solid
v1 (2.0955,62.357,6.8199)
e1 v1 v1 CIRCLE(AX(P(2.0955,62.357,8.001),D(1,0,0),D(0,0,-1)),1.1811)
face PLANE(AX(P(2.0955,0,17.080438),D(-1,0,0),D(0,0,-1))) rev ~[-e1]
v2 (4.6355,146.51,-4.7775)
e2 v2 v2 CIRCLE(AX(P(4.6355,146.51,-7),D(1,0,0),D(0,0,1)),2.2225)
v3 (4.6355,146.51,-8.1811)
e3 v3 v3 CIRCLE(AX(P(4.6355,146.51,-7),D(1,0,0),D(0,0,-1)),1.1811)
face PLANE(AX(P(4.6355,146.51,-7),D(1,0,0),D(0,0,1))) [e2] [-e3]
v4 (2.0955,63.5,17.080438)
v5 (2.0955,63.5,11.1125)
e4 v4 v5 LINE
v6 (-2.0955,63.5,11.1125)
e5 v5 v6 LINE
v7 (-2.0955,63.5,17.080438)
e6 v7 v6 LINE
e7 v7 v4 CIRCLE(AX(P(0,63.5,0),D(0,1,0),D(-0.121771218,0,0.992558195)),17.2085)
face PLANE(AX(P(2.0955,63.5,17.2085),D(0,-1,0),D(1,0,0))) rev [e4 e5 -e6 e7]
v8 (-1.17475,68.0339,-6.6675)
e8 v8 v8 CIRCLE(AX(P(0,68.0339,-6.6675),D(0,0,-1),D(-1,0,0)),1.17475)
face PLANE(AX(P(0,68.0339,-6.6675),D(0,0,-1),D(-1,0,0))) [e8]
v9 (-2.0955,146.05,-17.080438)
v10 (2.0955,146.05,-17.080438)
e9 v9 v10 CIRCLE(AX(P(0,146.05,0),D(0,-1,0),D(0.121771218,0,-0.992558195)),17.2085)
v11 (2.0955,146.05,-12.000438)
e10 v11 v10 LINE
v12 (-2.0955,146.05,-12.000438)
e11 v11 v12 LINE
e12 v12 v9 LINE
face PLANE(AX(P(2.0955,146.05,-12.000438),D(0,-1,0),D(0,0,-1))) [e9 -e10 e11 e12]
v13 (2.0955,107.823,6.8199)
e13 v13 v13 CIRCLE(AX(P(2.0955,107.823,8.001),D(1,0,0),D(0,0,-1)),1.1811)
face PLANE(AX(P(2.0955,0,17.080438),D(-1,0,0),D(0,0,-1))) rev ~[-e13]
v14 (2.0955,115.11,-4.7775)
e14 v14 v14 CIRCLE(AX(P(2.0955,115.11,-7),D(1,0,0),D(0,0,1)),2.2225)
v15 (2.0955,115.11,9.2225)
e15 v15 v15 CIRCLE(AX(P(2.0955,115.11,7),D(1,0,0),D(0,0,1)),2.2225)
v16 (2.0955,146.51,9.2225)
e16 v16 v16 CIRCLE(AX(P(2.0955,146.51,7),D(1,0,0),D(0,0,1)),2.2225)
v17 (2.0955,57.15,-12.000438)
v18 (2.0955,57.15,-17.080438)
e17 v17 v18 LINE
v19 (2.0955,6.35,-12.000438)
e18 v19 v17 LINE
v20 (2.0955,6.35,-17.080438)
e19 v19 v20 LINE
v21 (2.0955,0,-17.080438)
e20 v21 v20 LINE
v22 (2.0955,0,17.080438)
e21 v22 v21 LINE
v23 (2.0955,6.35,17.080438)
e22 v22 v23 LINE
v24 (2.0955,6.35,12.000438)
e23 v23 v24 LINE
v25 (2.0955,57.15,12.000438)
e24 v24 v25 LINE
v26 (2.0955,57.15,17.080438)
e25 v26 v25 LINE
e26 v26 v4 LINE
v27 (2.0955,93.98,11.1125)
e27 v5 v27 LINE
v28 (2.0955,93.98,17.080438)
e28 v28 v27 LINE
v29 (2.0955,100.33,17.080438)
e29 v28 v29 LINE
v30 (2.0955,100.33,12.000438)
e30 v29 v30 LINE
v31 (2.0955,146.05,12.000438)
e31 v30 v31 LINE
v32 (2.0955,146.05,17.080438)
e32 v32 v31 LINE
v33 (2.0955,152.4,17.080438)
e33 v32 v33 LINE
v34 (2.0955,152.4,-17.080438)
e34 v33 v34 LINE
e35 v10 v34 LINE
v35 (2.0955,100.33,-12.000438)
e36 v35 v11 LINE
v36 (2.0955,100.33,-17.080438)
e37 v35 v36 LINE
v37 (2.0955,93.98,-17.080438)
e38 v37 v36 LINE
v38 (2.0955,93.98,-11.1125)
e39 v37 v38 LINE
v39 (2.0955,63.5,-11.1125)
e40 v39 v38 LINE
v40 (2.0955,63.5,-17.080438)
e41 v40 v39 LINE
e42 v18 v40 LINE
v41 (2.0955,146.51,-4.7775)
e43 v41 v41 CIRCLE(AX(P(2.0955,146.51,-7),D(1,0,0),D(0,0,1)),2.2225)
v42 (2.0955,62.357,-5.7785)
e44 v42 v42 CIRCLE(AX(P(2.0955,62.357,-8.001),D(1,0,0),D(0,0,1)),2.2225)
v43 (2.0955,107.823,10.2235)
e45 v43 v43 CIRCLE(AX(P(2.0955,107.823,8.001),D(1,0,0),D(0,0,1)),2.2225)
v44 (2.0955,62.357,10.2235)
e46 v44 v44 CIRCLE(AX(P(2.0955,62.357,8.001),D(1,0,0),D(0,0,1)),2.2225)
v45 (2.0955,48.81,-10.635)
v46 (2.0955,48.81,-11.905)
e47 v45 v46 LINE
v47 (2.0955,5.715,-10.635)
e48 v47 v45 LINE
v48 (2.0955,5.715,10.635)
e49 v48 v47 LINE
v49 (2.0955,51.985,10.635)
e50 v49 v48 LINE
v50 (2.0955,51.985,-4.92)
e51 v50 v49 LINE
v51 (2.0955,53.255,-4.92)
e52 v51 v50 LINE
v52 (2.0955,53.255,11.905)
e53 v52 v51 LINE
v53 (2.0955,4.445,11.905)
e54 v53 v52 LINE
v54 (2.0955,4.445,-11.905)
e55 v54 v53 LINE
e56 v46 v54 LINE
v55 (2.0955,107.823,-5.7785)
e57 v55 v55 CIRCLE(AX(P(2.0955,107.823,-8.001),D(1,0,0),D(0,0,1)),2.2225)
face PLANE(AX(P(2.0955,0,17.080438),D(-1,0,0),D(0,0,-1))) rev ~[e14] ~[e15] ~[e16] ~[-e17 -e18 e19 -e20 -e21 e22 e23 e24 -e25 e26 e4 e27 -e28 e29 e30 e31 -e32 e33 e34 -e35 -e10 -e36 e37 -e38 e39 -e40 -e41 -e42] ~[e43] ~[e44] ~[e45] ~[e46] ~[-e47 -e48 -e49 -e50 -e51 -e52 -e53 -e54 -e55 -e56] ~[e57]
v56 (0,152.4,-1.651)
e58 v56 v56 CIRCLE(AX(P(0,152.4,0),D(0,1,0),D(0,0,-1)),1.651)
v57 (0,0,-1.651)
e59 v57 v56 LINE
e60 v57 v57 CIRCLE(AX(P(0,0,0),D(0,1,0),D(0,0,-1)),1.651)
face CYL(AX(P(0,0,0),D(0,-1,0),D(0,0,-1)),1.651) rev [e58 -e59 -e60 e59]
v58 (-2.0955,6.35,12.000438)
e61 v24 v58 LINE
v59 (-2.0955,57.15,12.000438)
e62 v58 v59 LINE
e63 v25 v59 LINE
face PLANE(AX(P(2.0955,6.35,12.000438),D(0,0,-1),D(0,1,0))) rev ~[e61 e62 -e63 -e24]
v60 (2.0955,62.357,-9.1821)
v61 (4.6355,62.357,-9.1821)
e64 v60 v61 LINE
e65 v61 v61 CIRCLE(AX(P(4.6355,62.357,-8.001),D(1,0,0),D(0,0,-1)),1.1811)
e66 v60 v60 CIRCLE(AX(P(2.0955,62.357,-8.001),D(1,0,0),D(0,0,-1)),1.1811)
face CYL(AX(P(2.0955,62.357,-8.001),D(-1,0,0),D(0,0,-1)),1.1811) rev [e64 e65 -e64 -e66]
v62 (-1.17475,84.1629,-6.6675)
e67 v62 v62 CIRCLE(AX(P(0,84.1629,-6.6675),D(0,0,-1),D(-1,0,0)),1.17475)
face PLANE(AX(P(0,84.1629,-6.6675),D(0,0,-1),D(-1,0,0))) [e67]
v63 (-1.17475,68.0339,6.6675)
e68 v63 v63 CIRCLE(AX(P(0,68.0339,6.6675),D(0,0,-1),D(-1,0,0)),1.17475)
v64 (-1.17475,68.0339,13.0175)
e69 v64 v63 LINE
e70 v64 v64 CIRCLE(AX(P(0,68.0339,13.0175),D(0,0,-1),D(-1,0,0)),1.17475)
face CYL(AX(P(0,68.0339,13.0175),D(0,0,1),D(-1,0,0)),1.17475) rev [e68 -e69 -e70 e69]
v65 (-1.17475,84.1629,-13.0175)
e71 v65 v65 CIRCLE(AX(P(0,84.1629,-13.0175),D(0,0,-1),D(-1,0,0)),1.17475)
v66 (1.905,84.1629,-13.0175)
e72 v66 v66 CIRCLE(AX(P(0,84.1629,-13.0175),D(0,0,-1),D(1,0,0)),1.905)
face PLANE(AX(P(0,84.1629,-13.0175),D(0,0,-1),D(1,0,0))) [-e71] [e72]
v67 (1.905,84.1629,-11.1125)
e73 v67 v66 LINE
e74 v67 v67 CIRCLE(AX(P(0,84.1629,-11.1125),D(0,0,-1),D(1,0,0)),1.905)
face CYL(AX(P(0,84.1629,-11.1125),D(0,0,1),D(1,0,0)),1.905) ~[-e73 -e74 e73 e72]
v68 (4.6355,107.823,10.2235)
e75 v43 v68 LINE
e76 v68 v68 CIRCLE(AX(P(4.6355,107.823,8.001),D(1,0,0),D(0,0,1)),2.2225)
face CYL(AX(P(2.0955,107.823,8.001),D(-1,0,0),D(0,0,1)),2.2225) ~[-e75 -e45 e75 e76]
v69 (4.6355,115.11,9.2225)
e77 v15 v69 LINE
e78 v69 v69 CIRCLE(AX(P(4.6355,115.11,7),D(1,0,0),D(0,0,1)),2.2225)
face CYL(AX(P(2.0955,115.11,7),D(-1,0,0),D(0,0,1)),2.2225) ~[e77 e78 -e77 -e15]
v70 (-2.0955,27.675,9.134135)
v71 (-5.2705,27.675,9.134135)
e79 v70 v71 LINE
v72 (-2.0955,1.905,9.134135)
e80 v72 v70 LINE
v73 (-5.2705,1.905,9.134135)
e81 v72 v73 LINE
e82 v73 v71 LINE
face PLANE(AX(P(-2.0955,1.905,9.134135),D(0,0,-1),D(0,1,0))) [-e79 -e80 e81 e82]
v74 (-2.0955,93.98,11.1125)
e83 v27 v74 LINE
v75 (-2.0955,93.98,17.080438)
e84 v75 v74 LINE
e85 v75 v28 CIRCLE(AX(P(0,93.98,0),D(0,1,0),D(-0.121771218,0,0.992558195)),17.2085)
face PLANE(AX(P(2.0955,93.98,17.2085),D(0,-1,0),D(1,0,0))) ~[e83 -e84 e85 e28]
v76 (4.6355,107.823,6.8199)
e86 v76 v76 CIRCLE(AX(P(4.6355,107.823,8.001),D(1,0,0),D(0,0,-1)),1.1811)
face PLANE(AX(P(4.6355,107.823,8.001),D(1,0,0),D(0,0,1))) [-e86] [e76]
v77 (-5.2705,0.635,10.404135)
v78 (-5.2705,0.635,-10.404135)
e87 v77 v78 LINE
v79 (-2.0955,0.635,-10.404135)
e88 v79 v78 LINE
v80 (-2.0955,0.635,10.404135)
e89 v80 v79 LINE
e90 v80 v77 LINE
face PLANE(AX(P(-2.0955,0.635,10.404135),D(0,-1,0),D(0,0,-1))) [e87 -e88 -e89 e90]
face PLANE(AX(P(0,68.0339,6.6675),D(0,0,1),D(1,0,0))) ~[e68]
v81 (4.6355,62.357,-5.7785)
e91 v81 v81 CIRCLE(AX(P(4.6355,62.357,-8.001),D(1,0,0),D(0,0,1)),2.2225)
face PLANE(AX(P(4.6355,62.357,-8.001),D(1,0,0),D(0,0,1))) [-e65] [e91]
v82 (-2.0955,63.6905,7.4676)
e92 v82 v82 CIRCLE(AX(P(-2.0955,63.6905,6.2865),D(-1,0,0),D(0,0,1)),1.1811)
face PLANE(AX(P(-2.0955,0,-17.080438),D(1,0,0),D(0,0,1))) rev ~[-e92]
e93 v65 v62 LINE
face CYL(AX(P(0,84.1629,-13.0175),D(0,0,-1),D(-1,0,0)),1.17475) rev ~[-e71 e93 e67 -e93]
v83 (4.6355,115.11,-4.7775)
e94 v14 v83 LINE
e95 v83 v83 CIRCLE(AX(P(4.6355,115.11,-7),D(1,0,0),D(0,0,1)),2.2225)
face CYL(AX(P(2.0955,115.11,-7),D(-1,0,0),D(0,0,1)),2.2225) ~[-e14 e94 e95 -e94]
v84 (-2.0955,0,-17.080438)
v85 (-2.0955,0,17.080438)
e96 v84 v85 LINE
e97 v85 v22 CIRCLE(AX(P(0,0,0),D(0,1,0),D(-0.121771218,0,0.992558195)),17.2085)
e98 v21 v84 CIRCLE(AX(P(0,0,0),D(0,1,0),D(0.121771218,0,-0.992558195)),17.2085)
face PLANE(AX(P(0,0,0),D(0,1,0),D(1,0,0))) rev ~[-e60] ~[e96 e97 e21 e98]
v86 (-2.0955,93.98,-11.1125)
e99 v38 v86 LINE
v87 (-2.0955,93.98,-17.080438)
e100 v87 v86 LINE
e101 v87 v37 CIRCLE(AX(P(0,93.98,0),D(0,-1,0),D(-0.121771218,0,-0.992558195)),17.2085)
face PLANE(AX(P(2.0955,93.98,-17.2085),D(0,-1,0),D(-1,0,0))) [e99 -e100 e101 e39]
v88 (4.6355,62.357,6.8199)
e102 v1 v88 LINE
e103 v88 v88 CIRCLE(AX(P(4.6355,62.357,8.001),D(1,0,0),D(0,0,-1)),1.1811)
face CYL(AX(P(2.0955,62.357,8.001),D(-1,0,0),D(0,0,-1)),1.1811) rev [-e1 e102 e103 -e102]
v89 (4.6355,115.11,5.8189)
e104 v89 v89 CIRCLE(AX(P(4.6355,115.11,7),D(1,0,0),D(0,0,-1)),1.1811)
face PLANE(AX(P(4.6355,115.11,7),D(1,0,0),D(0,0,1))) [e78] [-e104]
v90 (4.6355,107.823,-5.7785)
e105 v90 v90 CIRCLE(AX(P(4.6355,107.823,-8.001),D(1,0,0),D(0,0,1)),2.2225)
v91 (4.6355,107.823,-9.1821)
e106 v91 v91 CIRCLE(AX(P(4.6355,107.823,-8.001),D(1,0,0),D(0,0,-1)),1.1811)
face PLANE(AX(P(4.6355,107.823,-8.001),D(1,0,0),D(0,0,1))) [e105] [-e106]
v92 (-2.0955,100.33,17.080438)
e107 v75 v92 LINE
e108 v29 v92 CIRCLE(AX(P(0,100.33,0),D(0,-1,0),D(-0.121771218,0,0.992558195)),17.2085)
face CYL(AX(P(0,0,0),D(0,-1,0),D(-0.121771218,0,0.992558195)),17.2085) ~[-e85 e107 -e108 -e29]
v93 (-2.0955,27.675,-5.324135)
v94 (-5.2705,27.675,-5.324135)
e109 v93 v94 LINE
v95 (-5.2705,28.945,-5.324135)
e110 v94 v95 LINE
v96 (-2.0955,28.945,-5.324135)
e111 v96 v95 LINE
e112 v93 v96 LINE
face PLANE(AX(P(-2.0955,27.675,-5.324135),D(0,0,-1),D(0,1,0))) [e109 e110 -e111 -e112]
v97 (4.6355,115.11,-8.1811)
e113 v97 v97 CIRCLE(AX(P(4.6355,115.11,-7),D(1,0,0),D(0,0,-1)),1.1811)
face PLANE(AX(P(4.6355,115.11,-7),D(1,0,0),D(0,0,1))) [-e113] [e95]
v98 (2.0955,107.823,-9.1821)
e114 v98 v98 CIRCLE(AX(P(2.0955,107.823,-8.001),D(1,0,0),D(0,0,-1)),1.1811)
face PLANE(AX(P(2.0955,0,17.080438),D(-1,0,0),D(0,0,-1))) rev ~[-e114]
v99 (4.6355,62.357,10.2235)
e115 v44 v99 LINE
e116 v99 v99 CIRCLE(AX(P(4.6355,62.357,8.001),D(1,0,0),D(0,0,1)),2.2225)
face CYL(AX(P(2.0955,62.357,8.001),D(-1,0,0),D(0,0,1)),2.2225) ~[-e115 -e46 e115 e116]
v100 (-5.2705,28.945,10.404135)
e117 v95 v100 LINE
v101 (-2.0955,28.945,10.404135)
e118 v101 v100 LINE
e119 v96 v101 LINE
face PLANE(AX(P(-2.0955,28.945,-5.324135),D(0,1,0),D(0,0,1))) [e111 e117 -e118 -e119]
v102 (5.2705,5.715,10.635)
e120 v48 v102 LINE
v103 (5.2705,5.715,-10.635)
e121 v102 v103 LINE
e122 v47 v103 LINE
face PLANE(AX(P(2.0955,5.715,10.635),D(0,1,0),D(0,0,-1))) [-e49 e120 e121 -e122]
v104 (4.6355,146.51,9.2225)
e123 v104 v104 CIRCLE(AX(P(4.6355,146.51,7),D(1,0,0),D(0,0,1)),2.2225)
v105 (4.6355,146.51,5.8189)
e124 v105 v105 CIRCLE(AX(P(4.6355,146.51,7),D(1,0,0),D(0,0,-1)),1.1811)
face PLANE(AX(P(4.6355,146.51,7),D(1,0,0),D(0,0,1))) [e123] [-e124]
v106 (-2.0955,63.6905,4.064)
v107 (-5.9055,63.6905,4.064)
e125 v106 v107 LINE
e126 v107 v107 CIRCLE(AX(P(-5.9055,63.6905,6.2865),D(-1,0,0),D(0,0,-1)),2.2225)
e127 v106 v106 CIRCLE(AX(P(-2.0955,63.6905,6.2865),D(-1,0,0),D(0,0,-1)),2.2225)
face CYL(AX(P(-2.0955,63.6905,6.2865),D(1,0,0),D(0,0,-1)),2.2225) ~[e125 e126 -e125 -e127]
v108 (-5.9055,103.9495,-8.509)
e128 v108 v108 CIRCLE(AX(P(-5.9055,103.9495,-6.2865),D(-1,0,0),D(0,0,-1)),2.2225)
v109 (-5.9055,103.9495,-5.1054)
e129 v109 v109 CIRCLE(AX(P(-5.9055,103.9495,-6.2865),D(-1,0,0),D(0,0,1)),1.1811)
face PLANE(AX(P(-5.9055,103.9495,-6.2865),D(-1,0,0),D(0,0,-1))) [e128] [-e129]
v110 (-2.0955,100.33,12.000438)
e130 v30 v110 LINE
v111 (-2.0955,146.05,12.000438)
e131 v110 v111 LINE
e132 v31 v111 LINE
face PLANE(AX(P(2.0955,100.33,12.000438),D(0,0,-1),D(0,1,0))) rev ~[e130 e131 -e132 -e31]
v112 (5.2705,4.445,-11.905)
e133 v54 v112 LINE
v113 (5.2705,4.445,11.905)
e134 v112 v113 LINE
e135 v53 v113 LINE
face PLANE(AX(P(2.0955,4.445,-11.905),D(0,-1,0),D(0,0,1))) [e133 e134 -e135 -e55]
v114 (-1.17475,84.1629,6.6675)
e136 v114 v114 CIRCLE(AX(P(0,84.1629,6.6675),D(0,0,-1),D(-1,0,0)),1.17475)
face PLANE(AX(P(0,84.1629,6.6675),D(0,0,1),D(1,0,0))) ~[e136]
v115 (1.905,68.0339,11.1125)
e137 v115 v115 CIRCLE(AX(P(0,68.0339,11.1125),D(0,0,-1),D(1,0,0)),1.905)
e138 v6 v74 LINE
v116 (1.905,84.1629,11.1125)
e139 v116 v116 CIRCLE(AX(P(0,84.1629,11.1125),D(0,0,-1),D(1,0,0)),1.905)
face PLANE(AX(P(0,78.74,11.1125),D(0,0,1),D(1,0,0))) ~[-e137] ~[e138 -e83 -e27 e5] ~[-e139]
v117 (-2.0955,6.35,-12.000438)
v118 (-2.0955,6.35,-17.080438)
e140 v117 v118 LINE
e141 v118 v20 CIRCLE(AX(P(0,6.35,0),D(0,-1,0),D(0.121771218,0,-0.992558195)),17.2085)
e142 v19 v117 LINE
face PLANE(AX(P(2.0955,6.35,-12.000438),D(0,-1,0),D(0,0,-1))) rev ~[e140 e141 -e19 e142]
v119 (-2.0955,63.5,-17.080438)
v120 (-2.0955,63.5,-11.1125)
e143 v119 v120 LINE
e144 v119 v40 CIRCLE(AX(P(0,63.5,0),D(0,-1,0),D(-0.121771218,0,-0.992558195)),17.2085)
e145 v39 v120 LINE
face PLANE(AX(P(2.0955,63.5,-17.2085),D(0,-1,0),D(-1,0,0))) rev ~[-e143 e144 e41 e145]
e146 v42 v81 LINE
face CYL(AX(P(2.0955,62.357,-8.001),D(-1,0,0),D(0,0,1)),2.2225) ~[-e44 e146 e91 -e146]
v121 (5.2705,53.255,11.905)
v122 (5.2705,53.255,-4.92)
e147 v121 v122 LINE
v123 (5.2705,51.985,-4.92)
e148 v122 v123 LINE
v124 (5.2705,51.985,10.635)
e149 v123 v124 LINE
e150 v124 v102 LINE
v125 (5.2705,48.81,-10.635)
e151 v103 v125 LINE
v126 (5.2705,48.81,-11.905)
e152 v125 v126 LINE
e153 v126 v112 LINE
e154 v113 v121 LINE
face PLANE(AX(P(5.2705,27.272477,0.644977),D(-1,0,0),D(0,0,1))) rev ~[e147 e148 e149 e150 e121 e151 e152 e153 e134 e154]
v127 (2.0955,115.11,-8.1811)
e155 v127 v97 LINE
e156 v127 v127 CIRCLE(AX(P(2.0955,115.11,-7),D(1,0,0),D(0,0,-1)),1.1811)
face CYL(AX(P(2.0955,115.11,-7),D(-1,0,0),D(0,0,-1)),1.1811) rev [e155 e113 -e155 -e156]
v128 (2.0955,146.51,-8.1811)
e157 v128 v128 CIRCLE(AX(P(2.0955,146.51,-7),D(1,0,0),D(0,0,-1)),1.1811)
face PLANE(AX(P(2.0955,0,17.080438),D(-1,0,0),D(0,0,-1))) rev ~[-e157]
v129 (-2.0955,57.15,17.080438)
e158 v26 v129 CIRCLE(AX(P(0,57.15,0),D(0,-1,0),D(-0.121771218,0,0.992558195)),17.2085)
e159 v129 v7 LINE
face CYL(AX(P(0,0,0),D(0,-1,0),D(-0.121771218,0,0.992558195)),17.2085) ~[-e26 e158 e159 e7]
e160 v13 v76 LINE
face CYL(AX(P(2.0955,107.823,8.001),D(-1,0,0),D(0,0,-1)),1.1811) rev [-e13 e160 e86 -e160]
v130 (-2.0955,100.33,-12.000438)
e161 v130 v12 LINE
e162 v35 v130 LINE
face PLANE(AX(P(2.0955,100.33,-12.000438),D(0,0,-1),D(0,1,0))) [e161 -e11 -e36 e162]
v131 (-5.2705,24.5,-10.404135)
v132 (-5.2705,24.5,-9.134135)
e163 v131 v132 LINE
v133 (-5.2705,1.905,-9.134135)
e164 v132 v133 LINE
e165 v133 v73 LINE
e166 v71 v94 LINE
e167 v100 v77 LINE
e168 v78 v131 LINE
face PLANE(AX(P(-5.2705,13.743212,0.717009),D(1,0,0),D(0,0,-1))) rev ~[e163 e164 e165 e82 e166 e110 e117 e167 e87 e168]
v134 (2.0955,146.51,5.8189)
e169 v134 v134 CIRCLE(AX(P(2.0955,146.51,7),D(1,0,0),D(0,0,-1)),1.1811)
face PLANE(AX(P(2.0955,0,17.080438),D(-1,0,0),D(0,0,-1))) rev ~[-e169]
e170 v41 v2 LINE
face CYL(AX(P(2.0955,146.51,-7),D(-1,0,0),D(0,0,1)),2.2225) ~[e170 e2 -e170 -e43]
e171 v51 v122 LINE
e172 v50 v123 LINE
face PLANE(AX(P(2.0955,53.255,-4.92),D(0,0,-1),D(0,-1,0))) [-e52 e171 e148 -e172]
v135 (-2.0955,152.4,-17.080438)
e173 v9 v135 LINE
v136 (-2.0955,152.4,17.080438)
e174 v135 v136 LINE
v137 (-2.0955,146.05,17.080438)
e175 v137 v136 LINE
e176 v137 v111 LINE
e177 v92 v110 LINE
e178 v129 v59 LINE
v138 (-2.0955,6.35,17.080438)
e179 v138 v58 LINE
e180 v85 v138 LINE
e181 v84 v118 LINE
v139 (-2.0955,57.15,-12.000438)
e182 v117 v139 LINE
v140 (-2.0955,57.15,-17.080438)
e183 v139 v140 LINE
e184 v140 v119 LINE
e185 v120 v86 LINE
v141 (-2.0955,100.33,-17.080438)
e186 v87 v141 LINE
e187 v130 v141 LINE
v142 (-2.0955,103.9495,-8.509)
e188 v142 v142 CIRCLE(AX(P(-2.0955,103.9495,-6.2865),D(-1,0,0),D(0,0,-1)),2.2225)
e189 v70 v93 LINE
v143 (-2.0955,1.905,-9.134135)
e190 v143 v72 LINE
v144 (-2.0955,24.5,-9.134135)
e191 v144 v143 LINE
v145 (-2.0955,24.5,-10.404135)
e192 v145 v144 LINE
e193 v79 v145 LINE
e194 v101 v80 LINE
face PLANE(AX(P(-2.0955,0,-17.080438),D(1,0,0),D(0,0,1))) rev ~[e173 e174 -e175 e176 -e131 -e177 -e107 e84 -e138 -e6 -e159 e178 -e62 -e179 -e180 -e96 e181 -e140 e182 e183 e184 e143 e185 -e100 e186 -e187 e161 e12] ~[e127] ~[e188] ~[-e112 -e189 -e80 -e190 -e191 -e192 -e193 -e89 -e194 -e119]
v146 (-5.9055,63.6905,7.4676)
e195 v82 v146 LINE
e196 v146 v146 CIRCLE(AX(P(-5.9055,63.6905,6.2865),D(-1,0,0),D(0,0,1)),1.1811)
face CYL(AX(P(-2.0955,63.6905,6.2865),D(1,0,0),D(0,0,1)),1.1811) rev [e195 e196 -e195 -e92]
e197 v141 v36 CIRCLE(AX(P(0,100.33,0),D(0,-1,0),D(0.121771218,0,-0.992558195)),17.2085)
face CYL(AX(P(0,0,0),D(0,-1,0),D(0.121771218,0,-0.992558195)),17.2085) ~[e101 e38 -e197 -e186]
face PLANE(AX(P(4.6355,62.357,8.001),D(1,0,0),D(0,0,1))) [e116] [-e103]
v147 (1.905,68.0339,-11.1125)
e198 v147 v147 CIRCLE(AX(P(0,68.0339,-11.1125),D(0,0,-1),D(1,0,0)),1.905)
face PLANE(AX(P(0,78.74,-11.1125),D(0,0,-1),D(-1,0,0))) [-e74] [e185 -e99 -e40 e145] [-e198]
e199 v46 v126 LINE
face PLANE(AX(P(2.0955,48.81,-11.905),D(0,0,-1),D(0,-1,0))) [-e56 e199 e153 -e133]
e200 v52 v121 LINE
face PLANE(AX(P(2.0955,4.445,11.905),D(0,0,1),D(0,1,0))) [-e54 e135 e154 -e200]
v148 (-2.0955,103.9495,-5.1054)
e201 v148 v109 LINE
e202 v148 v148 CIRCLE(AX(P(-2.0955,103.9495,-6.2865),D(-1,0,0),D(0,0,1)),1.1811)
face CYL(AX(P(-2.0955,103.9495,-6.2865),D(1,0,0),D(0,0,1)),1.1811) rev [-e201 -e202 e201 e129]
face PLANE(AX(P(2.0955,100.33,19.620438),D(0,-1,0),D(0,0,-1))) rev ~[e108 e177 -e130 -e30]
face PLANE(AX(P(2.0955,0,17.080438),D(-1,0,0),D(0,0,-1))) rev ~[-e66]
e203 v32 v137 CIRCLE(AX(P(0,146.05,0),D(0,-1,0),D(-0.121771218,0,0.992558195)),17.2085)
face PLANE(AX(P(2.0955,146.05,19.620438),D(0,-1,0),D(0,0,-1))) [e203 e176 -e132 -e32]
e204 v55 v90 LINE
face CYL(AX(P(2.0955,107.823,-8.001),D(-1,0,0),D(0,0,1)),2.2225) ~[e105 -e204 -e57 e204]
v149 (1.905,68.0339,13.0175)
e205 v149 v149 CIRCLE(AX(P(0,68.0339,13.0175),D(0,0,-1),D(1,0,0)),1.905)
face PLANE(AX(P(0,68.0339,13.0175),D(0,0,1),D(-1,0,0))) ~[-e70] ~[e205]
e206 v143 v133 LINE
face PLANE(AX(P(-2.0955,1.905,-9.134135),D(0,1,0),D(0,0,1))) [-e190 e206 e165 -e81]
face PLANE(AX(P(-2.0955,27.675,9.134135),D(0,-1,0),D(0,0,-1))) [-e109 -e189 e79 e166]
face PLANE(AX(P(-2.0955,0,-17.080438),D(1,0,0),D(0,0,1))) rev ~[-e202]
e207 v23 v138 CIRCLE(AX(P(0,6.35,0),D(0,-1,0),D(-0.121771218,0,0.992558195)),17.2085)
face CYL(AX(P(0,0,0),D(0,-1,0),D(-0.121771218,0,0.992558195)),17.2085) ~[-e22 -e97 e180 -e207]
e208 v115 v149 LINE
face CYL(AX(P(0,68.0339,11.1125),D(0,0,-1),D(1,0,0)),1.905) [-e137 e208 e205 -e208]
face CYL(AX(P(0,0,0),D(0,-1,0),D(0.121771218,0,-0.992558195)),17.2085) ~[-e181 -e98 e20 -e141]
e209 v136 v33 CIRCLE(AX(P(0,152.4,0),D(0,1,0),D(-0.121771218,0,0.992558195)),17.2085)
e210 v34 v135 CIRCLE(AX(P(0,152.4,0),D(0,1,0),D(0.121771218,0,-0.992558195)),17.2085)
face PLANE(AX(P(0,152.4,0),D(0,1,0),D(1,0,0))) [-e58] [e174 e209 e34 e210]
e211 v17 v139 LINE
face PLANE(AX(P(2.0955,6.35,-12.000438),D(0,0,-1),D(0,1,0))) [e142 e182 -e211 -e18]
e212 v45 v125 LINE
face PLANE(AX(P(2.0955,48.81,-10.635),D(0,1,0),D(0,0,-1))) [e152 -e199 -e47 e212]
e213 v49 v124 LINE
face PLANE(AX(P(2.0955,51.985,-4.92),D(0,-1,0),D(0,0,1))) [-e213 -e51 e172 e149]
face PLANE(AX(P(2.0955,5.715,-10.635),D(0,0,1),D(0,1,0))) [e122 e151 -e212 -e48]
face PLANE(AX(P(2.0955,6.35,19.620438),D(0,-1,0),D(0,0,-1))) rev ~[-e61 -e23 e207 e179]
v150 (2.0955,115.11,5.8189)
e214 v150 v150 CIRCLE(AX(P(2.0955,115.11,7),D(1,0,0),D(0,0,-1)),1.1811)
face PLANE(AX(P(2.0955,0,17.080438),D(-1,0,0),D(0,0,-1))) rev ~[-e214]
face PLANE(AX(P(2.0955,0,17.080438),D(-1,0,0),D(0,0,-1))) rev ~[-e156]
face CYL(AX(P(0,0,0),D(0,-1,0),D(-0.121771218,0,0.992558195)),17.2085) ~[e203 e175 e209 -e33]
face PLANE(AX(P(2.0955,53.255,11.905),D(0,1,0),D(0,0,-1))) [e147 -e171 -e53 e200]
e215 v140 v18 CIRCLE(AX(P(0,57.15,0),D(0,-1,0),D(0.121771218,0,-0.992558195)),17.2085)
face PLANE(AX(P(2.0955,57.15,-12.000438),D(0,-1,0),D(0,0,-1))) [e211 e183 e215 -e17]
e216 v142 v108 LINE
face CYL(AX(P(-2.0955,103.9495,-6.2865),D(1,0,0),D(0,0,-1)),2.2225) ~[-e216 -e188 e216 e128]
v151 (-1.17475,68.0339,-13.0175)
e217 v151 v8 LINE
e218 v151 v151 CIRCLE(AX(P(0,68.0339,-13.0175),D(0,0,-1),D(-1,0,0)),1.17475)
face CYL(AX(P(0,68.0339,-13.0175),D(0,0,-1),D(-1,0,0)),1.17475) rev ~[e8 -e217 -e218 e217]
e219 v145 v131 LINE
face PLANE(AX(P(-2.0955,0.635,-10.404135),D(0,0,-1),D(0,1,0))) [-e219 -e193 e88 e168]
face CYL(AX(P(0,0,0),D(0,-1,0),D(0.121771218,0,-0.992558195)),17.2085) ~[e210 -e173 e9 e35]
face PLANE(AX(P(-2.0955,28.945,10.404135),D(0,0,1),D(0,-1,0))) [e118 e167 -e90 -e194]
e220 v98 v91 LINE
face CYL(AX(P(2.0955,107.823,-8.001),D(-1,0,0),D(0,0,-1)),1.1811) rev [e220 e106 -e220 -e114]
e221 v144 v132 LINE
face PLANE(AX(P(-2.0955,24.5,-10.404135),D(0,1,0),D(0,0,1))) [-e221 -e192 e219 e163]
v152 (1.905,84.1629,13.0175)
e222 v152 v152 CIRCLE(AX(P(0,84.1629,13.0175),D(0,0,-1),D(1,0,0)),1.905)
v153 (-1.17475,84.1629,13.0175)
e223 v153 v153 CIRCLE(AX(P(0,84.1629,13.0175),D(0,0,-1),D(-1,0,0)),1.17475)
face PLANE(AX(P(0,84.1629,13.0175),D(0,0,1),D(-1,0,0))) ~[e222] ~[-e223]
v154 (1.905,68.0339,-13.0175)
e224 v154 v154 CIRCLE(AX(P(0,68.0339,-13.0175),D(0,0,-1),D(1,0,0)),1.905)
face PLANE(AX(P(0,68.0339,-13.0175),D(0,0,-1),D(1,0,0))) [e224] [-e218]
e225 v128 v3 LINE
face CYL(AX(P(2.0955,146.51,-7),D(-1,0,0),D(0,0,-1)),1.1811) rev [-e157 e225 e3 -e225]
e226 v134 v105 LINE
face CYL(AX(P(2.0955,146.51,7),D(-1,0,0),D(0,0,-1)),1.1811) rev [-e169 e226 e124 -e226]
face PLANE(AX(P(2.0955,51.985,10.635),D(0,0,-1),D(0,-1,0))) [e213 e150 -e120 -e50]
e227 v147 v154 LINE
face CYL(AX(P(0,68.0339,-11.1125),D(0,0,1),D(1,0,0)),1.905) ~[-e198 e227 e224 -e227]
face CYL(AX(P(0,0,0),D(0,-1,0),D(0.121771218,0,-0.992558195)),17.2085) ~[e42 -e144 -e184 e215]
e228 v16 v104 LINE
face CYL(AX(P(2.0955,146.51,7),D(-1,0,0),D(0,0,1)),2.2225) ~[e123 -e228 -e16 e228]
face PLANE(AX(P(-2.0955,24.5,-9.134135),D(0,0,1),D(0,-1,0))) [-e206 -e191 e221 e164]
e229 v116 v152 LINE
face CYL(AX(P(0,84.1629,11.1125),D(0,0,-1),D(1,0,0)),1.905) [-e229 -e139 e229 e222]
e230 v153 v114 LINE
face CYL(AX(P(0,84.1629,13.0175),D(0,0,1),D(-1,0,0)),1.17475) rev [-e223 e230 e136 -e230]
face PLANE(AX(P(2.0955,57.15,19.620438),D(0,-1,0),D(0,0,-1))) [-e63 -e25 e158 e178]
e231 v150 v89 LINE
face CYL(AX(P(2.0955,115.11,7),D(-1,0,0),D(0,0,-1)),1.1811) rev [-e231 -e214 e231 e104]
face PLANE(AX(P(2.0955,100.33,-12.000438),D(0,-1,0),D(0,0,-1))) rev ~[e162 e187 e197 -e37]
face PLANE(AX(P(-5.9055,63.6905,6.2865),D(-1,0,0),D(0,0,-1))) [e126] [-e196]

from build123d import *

# Parameters (mm, degrees)
SKETCH1_R                            = 1.651
BOSS_EXTRUDE1_DEPTH                  = 152.4
SKETCH2_W                            = 4.191
SKETCH2_H                            = 30.48
CUT_EXTRUDE1_DEPTH                   = 6.096
SKETCH3_R                            = 1.905
BOSS_EXTRUDE2_DEPTH                  = 1.905
SKETCH4_R                            = 1.17475
CUT_EXTRUDE2_DEPTH                   = 6.35
SKETCH7_R                            = 2.2225
SKETCH7_R_2                          = 1.1811
STRATOLOGGER_MOUNTS_DEPTH            = 2.54
SKETCH8_R                            = 2.2225
SKETCH8_R_2                          = 1.1811
EASYMINI_MOUNTS_DEPTH                = 2.54
SKETCH9_W                            = 7.62
SKETCH9_H                            = 50.8
SKETCH9_H_2                          = 45.72
WIRE_PASSTHROUGHS_DEPTH              = 154.425737584
SKETCH12_R                           = 2.2225
SKETCH12_R_2                         = 1.1811
EGGFINDER_MINI_MOUNTS_SMALL_2S_DEPTH = 3.81
F_1S_LIPO_MOUINTS_SMALL_2S_DEPTH     = 3.175
BOSS_EXTRUDE5_DEPTH                  = 3.175


with BuildPart() as part:
    # Sketch1 → Boss-Extrude1 (new body)
    with BuildSketch(Plane(origin=(0, 0, 0), x_dir=(1, 0, 0), z_dir=(0, 1, 0))):
        with BuildLine():
            Line((2.0955, -17.080437699), (2.0955, 17.080437699))
            ThreePointArc((2.0955, 17.080437699), (0, 17.2085), (-2.0955, 17.080437699))
            Line((-2.0955, 17.080437699), (-2.0955, -17.080437699))
            ThreePointArc((-2.0955, -17.080437699), (0, -17.2085), (2.0955, -17.080437699))
        make_face()
        with Locations(Location((0, 0, 0), (0, 0, 90))):
            Circle(SKETCH1_R, mode=Mode.SUBTRACT)
    extrude(amount=BOSS_EXTRUDE1_DEPTH)

    # Sketch2 → Cut-Extrude1 (cut)
    with BuildSketch(Plane(origin=(0, 0, -17.2085), x_dir=(-1, 0, 0), z_dir=(0, 0, -1))):
        with Locations((0, 78.74)):
            Rectangle(SKETCH2_W, SKETCH2_H)
    cut_extrude1 = extrude(amount=-CUT_EXTRUDE1_DEPTH, mode=Mode.SUBTRACT)

    # Sketch3 → Boss-Extrude2 (add)
    with BuildSketch(Plane(origin=(0, 0, -11.1125), x_dir=(-1, 0, 0), z_dir=(0, 0, -1))):
        with Locations(Location((0, 68.0339, 0), (0, 0, 180))):
            Circle(SKETCH3_R)
        with Locations(Location((0, 84.1629, 0), (0, 0, 180))):
            Circle(SKETCH3_R)
    boss_extrude2 = extrude(amount=BOSS_EXTRUDE2_DEPTH)

    # Sketch4 → Cut-Extrude2 (cut)
    with BuildSketch(Plane(origin=(0, 0, -13.0175), x_dir=(-1, 0, 0), z_dir=(0, 0, -1))):
        with Locations((0, 84.1629)):
            Circle(SKETCH4_R)
        with Locations((0, 68.0339)):
            Circle(SKETCH4_R)
    cut_extrude2 = extrude(amount=-CUT_EXTRUDE2_DEPTH, mode=Mode.SUBTRACT)

    # Mirror1: Cut-Extrude1, Boss-Extrude2, Cut-Extrude2 across plane
    add(cut_extrude1.mirror(Plane.XY), mode=Mode.SUBTRACT)
    add(boss_extrude2.mirror(Plane.XY))
    add(cut_extrude2.mirror(Plane.XY), mode=Mode.SUBTRACT)

    # Sketch7 → Stratologger Mounts (add)
    # profile 1 of 4: a face of its own
    with BuildSketch(Plane(origin=(2.0955, 0, 0), x_dir=(0, 0, -1), z_dir=(1, 0, 0))):
        with Locations(Location((8.001, 62.357, 0), (0, 0, 180))):
            Circle(SKETCH7_R)
        with Locations((8.001, 62.357)):
            Circle(SKETCH7_R_2, mode=Mode.SUBTRACT)
    # profile 2 of 4: a face of its own
    with BuildSketch(Plane(origin=(2.0955, 0, 0), x_dir=(0, 0, -1), z_dir=(1, 0, 0))):
        with Locations(Location((-8.001, 62.357, 0), (0, 0, 180))):
            Circle(SKETCH7_R)
        with Locations((-8.001, 62.357)):
            Circle(SKETCH7_R_2, mode=Mode.SUBTRACT)
    # profile 3 of 4: a face of its own
    with BuildSketch(Plane(origin=(2.0955, 0, 0), x_dir=(0, 0, -1), z_dir=(1, 0, 0))):
        with Locations(Location((-8.001, 107.823, 0), (0, 0, 180))):
            Circle(SKETCH7_R)
        with Locations((-8.001, 107.823)):
            Circle(SKETCH7_R_2, mode=Mode.SUBTRACT)
    # profile 4 of 4: a face of its own
    with BuildSketch(Plane(origin=(2.0955, 0, 0), x_dir=(0, 0, -1), z_dir=(1, 0, 0))):
        with Locations(Location((8.001, 107.823, 0), (0, 0, 180))):
            Circle(SKETCH7_R)
        with Locations((8.001, 107.823)):
            Circle(SKETCH7_R_2, mode=Mode.SUBTRACT)
    extrude(amount=STRATOLOGGER_MOUNTS_DEPTH)

    # Sketch8 → EasyMini Mounts (add)
    # profile 1 of 4: a face of its own
    with BuildSketch(Plane(origin=(2.0955, 0, 0), x_dir=(0, 0, -1), z_dir=(1, 0, 0))):
        with Locations(Location((7, 115.11, 0), (0, 0, 180))):
            Circle(SKETCH8_R)
        with Locations((7, 115.11)):
            Circle(SKETCH8_R_2, mode=Mode.SUBTRACT)
    # profile 2 of 4: a face of its own
    with BuildSketch(Plane(origin=(2.0955, 0, 0), x_dir=(0, 0, -1), z_dir=(1, 0, 0))):
        with Locations(Location((-7, 115.11, 0), (0, 0, 180))):
            Circle(SKETCH8_R)
        with Locations((-7, 115.11)):
            Circle(SKETCH8_R_2, mode=Mode.SUBTRACT)
    # profile 3 of 4: a face of its own
    with BuildSketch(Plane(origin=(2.0955, 0, 0), x_dir=(0, 0, -1), z_dir=(1, 0, 0))):
        with Locations(Location((-7, 146.51, 0), (0, 0, 180))):
            Circle(SKETCH8_R)
        with Locations((-7, 146.51)):
            Circle(SKETCH8_R_2, mode=Mode.SUBTRACT)
    # profile 4 of 4: a face of its own
    with BuildSketch(Plane(origin=(2.0955, 0, 0), x_dir=(0, 0, -1), z_dir=(1, 0, 0))):
        with Locations(Location((7, 146.51, 0), (0, 0, 180))):
            Circle(SKETCH8_R)
        with Locations((7, 146.51)):
            Circle(SKETCH8_R_2, mode=Mode.SUBTRACT)
    extrude(amount=EASYMINI_MOUNTS_DEPTH)

    # Sketch9 → Wire Passthroughs (cut, through all)
    with BuildSketch(Plane(origin=(2.0955, 0, 0), x_dir=(0, 0, -1), z_dir=(1, 0, 0))):
        with Locations((15.810437699, 31.75)):
            Rectangle(SKETCH9_W, SKETCH9_H)
        with Locations((-15.810437699, 31.75)):
            Rectangle(SKETCH9_W, SKETCH9_H)
        with Locations((-15.810437699, 123.19)):
            Rectangle(SKETCH9_W, SKETCH9_H_2)
        with Locations((15.810437699, 123.19)):
            Rectangle(SKETCH9_W, SKETCH9_H_2)
    extrude(amount=-WIRE_PASSTHROUGHS_DEPTH, mode=Mode.SUBTRACT)

    # Sketch12 → Eggfinder Mini Mounts Small 2s (add)
    # profile 1 of 2: a face of its own
    with BuildSketch(Plane.ZY.offset(2.0955)):
        with Locations(Location((-6.2865, 103.9495, 0), (0, 0, 180))):
            Circle(SKETCH12_R)
        with Locations((-6.2865, 103.9495)):
            Circle(SKETCH12_R_2, mode=Mode.SUBTRACT)
    # profile 2 of 2: a face of its own
    with BuildSketch(Plane.ZY.offset(2.0955)):
        with Locations(Location((6.2865, 63.6905, 0), (0, 0, 180))):
            Circle(SKETCH12_R)
        with Locations((6.2865, 63.6905)):
            Circle(SKETCH12_R_2, mode=Mode.SUBTRACT)
    extrude(amount=EGGFINDER_MINI_MOUNTS_SMALL_2S_DEPTH)

    # Sketch13 → 1s LiPo Mouints Small 2s (add)
    with BuildSketch(Plane.ZY.offset(2.0955)):
        Polygon((-9.134134948, 1.905), (9.134134948, 1.905), (9.134134948, 27.675), (-5.324134948, 27.675), (-5.324134948, 28.945), (10.404134948, 28.945), (10.404134948, 0.635), (-10.404134948, 0.635), (-10.404134948, 24.5), (-9.134134948, 24.5), align=None)
    extrude(amount=F_1S_LIPO_MOUINTS_SMALL_2S_DEPTH)

    # Sketch14 → Boss-Extrude5 (add)
    with BuildSketch(Plane(origin=(2.0955, 0, 0), x_dir=(0, 0, -1), z_dir=(1, 0, 0))):
        Polygon((-10.635, 5.715), (10.635, 5.715), (10.635, 48.81), (11.905, 48.81), (11.905, 4.445), (-11.905, 4.445), (-11.905, 53.255), (4.92, 53.255), (4.92, 51.985), (-10.635, 51.985), align=None)
    extrude(amount=BOSS_EXTRUDE5_DEPTH)


solid = part.part
